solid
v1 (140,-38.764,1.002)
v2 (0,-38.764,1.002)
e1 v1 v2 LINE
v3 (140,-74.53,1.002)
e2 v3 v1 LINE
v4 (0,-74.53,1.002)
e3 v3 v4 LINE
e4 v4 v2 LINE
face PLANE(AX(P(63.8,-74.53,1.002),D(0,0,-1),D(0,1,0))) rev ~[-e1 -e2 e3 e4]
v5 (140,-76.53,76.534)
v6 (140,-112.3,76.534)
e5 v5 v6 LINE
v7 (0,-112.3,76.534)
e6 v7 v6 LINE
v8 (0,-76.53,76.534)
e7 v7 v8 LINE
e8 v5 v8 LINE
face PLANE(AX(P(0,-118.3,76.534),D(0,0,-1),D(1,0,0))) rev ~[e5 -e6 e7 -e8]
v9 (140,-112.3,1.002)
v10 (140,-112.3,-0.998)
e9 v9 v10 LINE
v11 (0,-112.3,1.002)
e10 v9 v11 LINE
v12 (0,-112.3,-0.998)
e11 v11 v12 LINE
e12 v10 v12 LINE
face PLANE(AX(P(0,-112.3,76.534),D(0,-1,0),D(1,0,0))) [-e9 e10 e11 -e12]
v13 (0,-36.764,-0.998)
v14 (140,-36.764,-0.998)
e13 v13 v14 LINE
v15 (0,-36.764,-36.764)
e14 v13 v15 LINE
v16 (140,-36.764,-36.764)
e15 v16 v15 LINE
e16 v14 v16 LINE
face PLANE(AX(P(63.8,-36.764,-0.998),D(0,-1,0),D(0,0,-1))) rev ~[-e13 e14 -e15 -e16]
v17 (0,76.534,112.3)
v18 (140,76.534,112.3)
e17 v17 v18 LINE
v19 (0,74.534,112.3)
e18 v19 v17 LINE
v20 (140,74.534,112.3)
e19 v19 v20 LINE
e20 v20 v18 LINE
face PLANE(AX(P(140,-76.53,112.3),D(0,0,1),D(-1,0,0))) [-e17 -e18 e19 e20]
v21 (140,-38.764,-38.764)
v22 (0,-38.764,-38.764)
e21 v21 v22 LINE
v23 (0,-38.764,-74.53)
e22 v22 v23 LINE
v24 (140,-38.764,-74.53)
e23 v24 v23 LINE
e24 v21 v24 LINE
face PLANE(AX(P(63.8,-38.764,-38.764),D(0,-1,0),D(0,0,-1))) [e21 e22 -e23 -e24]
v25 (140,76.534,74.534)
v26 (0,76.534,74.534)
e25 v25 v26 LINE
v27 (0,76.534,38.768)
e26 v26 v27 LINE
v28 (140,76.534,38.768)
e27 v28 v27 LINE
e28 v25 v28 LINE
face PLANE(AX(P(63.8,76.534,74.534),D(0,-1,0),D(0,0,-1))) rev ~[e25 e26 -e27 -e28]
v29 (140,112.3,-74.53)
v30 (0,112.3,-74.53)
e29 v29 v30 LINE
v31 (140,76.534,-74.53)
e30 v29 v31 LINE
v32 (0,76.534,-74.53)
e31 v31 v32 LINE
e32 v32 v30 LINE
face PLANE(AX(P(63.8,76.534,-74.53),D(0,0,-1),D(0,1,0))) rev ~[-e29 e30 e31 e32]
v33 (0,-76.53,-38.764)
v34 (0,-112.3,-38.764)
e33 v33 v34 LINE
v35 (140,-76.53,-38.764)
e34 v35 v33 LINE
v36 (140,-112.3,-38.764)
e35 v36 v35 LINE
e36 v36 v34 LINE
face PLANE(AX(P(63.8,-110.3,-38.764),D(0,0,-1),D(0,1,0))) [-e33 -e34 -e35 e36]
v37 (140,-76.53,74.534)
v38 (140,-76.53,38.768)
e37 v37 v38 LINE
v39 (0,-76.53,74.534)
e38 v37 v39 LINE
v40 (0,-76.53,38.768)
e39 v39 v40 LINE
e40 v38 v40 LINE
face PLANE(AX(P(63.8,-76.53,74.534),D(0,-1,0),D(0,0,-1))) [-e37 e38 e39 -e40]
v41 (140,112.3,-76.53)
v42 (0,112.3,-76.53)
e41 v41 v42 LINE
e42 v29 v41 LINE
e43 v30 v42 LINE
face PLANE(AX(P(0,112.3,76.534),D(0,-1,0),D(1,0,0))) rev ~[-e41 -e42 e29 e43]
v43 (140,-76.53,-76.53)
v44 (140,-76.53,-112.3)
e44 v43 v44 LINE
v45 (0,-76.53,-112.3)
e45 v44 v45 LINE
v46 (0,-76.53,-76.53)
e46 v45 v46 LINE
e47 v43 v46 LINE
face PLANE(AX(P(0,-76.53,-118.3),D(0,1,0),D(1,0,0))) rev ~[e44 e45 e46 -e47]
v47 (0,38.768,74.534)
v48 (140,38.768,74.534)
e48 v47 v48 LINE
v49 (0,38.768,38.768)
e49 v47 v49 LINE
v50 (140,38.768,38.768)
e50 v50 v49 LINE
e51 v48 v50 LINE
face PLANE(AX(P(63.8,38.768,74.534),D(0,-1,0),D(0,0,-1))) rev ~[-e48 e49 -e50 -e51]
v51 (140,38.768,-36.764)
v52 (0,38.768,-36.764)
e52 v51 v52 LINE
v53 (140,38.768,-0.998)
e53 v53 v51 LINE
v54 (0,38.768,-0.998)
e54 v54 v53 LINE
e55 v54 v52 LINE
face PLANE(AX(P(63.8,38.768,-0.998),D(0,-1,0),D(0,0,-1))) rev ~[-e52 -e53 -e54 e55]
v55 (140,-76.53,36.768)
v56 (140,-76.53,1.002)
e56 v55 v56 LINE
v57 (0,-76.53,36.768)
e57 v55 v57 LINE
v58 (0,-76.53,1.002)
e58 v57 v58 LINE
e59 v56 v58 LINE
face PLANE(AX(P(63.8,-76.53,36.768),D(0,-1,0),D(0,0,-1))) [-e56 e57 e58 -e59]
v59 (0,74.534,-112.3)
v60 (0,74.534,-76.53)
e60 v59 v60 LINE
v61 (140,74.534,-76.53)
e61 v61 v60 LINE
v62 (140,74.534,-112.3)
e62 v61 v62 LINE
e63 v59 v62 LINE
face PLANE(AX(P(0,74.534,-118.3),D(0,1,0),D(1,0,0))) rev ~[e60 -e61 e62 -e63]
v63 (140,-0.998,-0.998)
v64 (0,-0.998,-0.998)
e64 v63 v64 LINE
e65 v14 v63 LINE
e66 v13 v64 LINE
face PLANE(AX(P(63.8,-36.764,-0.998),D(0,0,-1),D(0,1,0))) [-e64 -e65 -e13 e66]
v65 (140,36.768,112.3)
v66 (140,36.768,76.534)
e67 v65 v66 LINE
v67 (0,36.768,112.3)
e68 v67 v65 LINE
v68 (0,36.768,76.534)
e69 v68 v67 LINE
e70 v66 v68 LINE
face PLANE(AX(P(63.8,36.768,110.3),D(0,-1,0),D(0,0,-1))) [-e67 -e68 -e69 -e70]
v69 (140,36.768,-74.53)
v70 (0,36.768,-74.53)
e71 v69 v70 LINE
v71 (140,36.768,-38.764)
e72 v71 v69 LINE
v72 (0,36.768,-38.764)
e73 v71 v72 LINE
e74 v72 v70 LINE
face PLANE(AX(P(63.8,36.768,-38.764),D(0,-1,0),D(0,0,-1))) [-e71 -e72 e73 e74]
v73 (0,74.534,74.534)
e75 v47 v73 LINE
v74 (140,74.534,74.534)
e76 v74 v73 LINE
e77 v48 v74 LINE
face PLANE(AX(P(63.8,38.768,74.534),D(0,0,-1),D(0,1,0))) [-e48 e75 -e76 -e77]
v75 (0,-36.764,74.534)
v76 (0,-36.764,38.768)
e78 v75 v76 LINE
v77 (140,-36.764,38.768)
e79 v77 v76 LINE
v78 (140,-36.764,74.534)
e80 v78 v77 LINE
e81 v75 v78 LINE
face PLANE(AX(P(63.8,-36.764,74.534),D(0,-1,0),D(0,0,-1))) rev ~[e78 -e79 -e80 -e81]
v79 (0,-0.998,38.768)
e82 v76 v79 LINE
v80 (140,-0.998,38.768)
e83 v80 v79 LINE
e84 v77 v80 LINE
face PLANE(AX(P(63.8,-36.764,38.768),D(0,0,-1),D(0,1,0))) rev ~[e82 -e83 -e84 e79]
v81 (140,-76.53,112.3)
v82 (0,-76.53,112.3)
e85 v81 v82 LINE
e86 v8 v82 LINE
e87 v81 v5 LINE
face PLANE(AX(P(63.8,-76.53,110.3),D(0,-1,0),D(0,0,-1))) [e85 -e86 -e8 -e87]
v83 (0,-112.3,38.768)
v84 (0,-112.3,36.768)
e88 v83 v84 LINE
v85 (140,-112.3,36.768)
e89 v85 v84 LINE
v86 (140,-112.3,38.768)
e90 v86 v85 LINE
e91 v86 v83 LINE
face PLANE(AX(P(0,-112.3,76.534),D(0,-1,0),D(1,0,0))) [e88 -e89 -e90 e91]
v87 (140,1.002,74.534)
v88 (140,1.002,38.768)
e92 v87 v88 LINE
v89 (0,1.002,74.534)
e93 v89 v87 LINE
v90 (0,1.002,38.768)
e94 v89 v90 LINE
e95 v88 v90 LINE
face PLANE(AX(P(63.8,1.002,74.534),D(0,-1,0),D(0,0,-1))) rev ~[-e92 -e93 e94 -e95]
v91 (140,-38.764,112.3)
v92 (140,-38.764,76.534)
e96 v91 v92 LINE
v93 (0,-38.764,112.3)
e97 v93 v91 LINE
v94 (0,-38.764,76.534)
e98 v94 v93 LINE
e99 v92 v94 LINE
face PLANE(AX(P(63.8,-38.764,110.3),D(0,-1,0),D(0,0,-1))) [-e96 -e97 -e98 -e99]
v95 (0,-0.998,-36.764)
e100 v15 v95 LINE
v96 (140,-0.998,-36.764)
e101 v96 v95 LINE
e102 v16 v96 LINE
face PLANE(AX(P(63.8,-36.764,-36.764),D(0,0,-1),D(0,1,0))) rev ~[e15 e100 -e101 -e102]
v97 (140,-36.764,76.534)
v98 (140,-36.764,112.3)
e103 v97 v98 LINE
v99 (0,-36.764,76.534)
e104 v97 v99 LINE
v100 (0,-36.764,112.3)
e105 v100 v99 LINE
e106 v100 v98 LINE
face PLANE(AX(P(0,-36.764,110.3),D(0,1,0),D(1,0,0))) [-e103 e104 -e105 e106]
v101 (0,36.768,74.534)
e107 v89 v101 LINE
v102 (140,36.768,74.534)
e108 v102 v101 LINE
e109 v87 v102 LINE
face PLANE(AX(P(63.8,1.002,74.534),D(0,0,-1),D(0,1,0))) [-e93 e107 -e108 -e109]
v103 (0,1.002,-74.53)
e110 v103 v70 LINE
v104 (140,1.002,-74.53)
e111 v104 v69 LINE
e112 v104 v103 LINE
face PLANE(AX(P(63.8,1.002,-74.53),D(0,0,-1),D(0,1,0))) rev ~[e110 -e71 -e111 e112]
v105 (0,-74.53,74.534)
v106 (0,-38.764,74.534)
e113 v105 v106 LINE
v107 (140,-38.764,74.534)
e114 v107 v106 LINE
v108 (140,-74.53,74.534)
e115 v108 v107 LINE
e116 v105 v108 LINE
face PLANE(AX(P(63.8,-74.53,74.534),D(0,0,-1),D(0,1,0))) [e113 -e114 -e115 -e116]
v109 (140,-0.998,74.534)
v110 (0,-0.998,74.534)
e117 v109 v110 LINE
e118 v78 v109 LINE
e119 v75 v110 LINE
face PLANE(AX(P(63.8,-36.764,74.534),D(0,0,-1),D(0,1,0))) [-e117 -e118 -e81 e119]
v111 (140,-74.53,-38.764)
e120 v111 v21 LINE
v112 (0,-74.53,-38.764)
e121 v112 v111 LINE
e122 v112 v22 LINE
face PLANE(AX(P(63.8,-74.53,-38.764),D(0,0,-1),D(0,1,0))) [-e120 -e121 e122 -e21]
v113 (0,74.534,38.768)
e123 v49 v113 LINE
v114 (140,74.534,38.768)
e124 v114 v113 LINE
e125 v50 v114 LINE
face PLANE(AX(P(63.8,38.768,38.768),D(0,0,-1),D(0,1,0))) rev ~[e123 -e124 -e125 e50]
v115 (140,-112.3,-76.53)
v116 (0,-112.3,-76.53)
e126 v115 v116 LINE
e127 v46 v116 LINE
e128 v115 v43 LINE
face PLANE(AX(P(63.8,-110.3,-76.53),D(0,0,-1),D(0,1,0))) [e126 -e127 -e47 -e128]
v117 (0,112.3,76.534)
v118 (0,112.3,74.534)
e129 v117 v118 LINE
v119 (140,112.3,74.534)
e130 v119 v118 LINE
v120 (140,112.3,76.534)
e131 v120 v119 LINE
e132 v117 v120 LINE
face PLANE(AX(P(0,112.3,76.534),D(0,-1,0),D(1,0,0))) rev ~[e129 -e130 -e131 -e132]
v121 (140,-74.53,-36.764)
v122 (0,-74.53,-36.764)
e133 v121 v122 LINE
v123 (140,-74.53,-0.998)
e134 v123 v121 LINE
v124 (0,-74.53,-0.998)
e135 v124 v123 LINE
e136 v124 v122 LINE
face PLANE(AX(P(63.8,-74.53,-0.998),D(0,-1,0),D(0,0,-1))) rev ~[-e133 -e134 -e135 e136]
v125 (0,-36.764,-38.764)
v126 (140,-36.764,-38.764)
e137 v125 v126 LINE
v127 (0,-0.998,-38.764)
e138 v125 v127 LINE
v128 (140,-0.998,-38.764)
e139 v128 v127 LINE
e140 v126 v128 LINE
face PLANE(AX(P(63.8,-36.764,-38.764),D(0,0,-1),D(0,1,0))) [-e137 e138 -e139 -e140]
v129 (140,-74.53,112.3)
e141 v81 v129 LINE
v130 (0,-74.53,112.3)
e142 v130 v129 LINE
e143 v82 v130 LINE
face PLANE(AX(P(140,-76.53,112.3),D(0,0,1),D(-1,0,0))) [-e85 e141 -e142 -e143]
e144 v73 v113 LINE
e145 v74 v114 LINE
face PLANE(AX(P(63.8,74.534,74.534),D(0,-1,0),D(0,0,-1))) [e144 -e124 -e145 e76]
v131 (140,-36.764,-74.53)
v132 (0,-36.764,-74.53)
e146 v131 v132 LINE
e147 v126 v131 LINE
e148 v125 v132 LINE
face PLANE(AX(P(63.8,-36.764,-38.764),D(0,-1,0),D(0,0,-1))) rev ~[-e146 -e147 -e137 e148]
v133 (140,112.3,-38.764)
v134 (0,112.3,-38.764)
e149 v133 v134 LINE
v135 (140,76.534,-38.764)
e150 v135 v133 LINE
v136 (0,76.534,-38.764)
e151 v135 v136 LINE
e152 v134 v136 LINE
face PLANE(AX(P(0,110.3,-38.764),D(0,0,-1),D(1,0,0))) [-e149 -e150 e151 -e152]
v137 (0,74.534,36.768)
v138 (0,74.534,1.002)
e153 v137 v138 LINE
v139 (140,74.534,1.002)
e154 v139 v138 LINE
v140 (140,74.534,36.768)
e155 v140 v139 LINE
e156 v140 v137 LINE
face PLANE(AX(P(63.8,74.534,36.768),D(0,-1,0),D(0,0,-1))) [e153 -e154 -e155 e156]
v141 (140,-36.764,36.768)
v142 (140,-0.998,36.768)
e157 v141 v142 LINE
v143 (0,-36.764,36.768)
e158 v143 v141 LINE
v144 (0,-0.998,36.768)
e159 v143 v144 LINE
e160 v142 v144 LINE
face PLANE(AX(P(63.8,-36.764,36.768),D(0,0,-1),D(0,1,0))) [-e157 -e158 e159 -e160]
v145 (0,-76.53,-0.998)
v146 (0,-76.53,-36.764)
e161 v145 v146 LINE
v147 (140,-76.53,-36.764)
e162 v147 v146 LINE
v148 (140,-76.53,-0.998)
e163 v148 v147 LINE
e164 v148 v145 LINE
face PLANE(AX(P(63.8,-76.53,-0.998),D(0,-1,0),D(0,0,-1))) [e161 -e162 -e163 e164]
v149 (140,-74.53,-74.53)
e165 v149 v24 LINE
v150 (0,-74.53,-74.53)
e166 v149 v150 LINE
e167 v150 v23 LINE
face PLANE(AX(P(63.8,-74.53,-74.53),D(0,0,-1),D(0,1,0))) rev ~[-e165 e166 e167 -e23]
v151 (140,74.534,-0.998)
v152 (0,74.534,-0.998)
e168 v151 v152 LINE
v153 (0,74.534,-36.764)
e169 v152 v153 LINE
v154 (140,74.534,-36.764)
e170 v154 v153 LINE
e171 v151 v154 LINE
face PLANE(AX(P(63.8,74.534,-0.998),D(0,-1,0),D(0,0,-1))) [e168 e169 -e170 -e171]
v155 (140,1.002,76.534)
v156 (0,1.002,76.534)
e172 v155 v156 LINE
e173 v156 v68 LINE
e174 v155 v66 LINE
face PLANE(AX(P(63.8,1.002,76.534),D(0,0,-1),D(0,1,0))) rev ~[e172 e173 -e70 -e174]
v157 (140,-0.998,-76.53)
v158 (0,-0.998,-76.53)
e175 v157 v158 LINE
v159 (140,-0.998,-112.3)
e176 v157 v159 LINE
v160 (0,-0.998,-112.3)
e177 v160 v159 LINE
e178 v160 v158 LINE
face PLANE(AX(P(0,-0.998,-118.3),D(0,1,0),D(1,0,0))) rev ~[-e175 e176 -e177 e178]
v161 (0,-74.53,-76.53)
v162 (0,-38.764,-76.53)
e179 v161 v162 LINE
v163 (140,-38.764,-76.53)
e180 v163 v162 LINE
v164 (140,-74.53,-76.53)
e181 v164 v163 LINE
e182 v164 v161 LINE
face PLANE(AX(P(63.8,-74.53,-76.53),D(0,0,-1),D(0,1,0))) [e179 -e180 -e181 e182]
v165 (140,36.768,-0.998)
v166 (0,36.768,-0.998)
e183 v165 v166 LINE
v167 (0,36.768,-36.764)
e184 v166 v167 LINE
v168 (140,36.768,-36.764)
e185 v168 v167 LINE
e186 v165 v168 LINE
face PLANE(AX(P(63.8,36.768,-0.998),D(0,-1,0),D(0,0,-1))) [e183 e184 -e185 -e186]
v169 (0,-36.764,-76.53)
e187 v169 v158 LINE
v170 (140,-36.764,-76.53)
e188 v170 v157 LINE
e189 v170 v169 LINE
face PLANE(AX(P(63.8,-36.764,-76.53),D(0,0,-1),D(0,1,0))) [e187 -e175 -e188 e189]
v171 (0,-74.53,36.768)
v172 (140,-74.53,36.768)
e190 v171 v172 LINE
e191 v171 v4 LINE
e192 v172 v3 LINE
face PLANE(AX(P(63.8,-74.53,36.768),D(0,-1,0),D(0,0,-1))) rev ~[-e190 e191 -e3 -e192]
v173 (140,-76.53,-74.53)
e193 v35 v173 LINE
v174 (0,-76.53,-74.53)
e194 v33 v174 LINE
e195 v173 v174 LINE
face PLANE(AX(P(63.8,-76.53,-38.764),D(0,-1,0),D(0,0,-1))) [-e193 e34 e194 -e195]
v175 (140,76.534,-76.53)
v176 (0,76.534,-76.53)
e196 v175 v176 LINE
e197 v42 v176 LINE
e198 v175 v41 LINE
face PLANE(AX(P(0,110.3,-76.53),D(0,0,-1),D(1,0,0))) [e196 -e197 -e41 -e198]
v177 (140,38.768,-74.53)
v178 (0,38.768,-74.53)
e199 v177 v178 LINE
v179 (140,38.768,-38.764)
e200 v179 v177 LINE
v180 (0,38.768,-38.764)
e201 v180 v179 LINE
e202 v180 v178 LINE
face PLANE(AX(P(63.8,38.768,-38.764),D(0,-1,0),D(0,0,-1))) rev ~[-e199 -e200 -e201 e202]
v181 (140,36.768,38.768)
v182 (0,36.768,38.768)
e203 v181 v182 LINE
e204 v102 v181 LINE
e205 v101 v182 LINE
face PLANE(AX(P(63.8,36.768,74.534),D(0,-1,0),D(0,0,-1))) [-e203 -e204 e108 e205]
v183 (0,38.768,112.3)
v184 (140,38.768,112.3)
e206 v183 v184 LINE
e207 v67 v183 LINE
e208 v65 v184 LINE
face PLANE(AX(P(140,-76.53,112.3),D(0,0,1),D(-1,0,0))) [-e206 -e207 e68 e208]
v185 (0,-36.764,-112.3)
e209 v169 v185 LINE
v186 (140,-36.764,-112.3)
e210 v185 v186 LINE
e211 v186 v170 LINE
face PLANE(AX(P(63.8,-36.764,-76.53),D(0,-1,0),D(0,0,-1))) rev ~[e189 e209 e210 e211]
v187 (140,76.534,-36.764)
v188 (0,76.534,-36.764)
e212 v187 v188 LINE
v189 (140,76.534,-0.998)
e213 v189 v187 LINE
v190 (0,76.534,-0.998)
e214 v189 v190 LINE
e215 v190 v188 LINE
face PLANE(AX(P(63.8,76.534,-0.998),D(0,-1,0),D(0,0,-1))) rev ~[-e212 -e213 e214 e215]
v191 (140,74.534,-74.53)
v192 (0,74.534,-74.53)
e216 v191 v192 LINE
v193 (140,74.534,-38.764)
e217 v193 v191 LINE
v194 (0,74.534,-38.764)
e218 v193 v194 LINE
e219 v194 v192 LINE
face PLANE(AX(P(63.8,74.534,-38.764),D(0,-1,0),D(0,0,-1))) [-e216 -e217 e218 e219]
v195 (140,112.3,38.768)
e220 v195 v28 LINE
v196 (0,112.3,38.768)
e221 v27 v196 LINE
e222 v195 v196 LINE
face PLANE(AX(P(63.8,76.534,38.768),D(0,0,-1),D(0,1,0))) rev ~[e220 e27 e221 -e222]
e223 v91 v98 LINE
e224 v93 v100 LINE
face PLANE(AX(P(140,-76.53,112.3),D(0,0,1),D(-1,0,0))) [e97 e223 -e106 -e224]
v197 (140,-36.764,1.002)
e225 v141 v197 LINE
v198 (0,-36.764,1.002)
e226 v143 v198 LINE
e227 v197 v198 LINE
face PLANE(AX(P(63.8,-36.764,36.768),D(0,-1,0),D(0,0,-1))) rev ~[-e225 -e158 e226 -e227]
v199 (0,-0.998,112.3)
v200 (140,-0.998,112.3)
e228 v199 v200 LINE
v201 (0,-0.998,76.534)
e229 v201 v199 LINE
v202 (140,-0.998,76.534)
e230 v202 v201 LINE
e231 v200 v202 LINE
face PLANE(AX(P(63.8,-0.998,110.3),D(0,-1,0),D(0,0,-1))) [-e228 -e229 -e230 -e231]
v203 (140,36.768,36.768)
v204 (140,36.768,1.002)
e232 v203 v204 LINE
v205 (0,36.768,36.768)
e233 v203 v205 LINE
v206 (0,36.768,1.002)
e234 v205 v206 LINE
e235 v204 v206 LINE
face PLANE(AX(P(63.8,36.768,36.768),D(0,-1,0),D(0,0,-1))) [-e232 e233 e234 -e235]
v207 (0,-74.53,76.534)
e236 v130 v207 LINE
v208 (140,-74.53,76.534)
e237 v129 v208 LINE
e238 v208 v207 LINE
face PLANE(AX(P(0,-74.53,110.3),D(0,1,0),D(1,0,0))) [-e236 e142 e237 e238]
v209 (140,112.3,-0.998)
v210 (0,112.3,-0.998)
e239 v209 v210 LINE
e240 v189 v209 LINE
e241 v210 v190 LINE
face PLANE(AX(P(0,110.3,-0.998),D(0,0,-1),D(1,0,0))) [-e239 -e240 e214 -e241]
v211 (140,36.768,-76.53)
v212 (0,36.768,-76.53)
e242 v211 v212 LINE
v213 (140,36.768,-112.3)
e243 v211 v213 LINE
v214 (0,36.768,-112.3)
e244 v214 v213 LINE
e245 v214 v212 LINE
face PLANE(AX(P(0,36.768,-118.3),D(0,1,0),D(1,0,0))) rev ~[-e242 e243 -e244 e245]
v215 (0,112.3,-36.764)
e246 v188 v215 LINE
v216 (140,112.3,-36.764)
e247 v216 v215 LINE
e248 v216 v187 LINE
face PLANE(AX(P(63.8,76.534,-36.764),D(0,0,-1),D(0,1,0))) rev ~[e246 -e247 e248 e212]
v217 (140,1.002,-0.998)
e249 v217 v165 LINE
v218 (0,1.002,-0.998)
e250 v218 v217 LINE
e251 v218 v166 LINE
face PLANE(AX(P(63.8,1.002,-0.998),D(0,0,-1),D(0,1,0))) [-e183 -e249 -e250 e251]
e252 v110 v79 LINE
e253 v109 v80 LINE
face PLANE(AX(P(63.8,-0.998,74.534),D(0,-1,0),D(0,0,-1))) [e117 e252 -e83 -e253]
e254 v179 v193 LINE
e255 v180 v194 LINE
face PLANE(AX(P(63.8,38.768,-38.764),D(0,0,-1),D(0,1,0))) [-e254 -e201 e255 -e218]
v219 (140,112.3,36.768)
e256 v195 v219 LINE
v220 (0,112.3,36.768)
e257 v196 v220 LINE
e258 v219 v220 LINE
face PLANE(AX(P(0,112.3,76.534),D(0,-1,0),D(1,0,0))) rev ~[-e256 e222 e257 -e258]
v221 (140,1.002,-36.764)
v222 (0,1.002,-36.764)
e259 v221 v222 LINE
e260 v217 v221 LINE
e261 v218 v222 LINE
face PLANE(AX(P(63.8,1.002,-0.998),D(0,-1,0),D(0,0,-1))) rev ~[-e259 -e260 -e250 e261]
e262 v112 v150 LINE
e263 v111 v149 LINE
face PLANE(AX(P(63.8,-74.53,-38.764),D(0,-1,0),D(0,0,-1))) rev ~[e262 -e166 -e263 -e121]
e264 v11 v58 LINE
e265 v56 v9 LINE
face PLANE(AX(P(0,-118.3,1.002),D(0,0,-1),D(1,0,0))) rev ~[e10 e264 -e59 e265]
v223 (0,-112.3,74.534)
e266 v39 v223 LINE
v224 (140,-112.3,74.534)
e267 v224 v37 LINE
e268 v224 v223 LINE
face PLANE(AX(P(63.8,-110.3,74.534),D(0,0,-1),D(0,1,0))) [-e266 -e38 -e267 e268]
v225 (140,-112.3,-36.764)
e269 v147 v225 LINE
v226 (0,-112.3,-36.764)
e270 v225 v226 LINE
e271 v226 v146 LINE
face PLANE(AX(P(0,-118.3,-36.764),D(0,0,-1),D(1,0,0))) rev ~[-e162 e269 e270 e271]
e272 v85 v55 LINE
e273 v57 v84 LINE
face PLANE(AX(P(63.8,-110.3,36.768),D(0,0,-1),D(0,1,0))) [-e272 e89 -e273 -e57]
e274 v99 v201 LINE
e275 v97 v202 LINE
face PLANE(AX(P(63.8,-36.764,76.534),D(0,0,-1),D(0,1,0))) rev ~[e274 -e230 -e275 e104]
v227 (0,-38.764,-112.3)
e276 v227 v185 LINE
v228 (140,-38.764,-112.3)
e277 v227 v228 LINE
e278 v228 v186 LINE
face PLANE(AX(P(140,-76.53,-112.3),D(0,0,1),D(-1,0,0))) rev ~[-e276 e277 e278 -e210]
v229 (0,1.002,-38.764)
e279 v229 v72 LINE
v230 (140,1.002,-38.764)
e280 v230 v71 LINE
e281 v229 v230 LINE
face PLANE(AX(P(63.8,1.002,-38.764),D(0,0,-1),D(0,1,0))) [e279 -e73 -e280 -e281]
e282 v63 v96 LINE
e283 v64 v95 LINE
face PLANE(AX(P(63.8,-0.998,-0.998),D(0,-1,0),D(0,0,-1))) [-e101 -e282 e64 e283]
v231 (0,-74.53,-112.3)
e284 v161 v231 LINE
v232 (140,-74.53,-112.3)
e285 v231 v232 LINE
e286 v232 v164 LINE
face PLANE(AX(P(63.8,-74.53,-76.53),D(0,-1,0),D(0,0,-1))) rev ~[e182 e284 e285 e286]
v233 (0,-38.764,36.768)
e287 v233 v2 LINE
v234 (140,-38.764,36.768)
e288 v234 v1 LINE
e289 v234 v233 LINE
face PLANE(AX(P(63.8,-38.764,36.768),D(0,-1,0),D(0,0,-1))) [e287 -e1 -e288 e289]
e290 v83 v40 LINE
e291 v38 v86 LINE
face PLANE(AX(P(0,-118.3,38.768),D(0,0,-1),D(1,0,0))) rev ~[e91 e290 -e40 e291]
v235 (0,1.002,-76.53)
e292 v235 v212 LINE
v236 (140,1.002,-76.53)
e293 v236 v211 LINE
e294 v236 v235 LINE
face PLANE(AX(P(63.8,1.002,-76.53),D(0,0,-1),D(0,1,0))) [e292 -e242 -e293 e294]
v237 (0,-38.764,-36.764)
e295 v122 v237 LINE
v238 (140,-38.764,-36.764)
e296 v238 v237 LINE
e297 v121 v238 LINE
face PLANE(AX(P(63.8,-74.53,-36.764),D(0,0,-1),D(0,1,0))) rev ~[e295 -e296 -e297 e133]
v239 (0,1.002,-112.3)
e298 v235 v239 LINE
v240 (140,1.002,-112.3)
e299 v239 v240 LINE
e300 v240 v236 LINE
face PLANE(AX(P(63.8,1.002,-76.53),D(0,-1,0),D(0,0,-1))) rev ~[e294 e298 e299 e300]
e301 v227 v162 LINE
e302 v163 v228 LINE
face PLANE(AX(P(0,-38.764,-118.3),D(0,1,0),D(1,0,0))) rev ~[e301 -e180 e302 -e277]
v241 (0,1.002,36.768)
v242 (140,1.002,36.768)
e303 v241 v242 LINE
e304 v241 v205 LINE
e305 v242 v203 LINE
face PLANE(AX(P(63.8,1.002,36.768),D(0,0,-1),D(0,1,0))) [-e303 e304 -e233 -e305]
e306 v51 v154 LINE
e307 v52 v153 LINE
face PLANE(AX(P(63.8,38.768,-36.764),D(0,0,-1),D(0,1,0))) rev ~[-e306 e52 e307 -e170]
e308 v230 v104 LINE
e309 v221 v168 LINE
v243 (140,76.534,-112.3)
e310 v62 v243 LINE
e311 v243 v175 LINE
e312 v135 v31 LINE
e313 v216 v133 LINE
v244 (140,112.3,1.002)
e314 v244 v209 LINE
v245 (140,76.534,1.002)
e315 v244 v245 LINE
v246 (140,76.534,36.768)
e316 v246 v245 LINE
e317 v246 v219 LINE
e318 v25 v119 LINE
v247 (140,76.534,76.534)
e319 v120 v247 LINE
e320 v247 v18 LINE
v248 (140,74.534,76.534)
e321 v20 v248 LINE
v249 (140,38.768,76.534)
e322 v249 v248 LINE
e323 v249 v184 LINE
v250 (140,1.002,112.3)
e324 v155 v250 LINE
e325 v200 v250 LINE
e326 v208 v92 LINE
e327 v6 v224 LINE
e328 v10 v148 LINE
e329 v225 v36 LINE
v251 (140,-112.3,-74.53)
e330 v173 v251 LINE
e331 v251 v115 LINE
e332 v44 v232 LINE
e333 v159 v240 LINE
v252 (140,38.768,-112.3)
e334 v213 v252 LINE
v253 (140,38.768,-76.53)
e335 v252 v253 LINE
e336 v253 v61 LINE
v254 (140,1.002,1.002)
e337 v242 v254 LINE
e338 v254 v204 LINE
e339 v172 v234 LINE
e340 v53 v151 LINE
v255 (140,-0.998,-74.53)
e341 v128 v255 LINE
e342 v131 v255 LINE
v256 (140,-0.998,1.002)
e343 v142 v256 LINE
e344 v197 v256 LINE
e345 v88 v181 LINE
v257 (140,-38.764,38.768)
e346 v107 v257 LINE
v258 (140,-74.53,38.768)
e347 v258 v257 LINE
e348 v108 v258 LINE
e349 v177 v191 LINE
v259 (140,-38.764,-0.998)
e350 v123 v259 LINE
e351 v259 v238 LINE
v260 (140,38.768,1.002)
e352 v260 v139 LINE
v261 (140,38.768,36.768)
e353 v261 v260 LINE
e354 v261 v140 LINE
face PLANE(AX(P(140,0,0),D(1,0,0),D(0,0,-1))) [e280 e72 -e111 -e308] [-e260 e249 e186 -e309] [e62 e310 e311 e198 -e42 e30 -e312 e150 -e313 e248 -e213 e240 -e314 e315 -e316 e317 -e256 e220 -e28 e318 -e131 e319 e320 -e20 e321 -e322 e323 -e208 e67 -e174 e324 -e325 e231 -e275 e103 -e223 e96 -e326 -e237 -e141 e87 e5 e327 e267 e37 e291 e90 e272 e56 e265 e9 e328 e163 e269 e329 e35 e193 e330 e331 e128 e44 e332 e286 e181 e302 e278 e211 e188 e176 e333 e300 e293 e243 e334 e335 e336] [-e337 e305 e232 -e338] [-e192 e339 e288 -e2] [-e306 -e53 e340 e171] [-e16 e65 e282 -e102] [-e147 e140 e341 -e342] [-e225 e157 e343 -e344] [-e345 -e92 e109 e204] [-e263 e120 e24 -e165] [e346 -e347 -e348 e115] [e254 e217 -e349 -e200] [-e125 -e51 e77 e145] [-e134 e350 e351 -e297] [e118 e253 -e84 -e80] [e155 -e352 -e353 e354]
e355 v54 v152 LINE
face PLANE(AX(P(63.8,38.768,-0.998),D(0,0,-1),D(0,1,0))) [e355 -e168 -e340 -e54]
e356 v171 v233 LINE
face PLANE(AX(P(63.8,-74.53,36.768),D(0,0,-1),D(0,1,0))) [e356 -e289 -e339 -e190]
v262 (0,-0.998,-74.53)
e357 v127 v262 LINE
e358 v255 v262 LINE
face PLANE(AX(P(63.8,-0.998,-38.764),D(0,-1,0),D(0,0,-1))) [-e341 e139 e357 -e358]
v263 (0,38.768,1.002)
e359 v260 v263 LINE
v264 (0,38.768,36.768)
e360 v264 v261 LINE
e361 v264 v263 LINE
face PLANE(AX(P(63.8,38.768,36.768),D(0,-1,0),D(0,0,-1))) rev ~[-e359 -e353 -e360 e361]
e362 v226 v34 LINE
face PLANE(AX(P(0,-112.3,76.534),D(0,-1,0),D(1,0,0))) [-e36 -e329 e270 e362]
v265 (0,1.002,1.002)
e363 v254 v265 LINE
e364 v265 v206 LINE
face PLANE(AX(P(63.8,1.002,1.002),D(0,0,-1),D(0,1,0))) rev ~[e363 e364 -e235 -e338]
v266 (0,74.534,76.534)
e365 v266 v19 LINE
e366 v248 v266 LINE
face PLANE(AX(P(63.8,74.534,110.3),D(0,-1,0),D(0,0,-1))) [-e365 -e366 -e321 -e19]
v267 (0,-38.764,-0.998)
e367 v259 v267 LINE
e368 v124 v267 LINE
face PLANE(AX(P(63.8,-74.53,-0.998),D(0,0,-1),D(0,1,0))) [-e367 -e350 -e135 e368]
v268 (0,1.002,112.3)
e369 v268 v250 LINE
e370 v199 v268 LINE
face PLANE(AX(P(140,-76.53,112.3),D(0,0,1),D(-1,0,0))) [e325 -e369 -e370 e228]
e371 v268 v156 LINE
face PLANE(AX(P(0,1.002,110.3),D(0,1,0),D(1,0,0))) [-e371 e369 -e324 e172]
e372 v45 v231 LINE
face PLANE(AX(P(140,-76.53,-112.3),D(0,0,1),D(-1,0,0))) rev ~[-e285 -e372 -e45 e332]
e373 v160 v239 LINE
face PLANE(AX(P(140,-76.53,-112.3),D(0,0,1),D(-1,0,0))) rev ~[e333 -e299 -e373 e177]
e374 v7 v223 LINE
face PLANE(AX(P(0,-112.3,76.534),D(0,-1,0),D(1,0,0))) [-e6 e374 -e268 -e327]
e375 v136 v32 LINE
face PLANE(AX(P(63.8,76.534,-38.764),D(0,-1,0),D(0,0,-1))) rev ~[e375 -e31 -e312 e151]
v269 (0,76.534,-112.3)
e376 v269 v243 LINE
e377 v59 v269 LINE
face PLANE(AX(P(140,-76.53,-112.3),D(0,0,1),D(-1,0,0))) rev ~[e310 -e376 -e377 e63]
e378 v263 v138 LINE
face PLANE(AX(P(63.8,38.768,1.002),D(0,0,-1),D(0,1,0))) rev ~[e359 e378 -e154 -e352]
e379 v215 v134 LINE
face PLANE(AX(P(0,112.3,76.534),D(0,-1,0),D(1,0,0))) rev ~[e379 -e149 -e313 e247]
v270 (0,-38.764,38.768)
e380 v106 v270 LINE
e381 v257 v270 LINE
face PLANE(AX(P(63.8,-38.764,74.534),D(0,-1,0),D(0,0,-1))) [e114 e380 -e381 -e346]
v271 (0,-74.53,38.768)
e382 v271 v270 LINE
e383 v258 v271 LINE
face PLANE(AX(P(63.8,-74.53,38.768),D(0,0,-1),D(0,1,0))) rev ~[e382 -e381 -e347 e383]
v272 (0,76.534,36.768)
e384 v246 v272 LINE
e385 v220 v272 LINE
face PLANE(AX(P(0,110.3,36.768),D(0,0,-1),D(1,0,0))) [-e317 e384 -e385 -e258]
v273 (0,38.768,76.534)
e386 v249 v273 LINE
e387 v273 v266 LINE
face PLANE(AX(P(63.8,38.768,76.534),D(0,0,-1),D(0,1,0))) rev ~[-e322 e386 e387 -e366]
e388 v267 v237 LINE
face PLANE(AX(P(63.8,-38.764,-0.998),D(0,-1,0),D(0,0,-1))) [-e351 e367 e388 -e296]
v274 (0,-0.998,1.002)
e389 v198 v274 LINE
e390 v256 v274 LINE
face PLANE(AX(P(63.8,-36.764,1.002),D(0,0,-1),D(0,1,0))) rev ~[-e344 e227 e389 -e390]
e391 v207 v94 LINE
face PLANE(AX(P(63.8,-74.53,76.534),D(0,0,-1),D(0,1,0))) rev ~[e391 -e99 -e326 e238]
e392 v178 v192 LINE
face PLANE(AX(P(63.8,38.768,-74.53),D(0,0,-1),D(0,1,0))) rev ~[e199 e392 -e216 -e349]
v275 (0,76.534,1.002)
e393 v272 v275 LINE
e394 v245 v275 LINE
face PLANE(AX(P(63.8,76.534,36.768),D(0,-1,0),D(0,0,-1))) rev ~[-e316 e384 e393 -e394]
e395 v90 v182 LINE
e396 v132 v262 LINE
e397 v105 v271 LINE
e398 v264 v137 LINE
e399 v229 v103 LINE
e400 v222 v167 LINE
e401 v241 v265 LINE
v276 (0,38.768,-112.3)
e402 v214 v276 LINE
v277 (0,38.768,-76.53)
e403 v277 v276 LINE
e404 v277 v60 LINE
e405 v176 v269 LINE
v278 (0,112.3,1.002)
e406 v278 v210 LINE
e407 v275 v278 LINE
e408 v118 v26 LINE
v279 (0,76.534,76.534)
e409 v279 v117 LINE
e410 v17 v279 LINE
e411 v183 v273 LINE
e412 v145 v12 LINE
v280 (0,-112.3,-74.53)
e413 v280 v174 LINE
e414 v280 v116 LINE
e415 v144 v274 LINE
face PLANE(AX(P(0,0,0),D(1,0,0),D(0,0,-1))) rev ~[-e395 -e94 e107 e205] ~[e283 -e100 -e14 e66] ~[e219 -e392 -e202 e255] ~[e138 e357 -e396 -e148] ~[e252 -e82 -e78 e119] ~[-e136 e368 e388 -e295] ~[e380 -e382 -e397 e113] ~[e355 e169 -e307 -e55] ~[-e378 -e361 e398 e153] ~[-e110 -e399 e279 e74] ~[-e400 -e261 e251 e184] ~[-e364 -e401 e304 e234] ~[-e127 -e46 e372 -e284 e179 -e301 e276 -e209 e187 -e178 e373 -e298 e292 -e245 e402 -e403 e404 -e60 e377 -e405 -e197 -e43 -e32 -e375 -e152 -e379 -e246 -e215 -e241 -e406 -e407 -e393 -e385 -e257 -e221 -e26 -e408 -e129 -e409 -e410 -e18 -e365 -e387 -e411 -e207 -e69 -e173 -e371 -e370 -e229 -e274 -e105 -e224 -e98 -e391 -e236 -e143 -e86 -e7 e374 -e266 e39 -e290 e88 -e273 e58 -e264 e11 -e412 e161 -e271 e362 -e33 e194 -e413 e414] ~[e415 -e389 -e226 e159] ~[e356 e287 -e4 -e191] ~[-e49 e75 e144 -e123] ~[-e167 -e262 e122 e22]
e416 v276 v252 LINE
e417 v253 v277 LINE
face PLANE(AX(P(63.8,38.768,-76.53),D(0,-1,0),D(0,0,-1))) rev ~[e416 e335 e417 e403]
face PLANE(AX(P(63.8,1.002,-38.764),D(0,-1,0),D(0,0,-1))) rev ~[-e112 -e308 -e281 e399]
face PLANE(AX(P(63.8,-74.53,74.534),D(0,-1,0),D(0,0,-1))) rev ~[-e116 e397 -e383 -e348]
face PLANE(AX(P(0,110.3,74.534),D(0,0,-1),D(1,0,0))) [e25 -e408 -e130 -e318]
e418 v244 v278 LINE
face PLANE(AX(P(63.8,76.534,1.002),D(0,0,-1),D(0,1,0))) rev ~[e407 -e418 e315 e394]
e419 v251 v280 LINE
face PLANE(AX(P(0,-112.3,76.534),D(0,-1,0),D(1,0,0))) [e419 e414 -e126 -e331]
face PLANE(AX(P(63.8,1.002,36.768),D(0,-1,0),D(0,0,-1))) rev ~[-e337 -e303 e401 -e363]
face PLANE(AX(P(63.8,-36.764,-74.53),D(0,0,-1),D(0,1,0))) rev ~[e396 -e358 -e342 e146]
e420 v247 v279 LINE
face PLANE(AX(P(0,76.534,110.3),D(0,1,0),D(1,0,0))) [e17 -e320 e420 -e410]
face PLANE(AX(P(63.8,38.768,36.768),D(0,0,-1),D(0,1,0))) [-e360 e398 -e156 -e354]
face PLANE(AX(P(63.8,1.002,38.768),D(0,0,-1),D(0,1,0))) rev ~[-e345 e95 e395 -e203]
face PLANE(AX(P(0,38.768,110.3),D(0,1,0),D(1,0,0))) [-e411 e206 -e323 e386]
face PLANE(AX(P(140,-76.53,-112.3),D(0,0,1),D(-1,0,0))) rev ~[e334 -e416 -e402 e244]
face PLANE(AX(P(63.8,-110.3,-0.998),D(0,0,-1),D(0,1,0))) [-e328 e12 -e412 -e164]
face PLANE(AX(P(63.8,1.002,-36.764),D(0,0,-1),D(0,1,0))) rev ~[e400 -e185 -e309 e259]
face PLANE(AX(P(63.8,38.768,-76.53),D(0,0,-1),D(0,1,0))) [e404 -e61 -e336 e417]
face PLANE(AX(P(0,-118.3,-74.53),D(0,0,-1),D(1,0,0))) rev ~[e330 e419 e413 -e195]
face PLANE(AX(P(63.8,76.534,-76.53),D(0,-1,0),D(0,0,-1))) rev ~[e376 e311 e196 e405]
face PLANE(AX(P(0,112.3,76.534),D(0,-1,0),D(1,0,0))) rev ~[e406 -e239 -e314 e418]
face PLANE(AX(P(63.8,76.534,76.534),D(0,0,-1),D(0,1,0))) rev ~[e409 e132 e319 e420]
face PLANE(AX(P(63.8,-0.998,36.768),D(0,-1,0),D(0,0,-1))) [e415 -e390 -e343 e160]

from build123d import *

# Parameters (mm, degrees)
SKETCH1_W               = 228.6
SKETCH1_H               = 228.6
BOSS_EXTRUDE1_DEPTH     = 140
SKETCH2_W               = 35.766
SKETCH2_H               = 35.766
CUT_EXTRUDE1_DEPTH      = 76.2
CUT_EXTRUDE3_DEPTH      = 4
CUT_EXTRUDE3_DEPTH_BACK = 4
SKETCH4_W               = 140
SKETCH4_H               = 35.766
CUT_EXTRUDE4_DEPTH      = 4
CUT_EXTRUDE4_DEPTH_BACK = 4
SKETCH5_W               = 140
SKETCH5_H               = 37.77
SKETCH5_H_2             = 35.766
CUT_EXTRUDE5_DEPTH      = 4
CUT_EXTRUDE5_DEPTH_BACK = 4
SKETCH6_W               = 140
SKETCH6_H               = 35.766
SKETCH6_H_2             = 37.77
CUT_EXTRUDE6_DEPTH      = 4
CUT_EXTRUDE6_DEPTH_BACK = 4
SKETCH9_W               = 140
SKETCH9_H               = 37.766
SKETCH9_H_2             = 35.766
SKETCH9_H_3             = 37.77
SKETCH10_W              = 140
SKETCH10_H              = 2
CUT_EXTRUDE7_DEPTH      = 263.834749521
SKETCH11_W              = 140
SKETCH11_H              = 2
CUT_EXTRUDE8_DEPTH      = 262.383356203
SKETCH12_W              = 33.77
SKETCH12_H              = 33.766
SKETCH12_W_2            = 35.766
SKETCH12_W_3            = 33.766
SKETCH12_H_2            = 35.766
SKETCH12_H_3            = 33.77
CUT_EXTRUDE9_DEPTH      = 177.150560601
SKETCH13_W              = 33.77
SKETCH13_H              = 35.766
SKETCH13_W_2            = 35.766
CUT_EXTRUDE10_DEPTH     = 177.150560601
SKETCH14_W              = 35.766
SKETCH14_H              = 35.766
CUT_EXTRUDE11_DEPTH     = 177.150560601


with BuildPart() as part:
    # Sketch1 → Boss-Extrude1 (new body)
    with BuildSketch(Plane(origin=(0, 0, 0), x_dir=(0, 0, -1), z_dir=(1, 0, 0))):
        Rectangle(SKETCH1_W, SKETCH1_H)
    extrude(amount=BOSS_EXTRUDE1_DEPTH)

    # Sketch2 → Cut-Extrude1 (cut)
    with BuildSketch(Plane(origin=(140, 0, 0), x_dir=(0, 0, -1), z_dir=(1, 0, 0))):
        with Locations((-94.417, 94.417)):
            Rectangle(SKETCH2_W, SKETCH2_H)
        with Locations((-56.651, 94.417)):
            Rectangle(SKETCH2_W, SKETCH2_H)
        with Locations((18.881, 94.417)):
            Rectangle(SKETCH2_W, SKETCH2_H)
        with Locations((-18.885, 94.417)):
            Rectangle(SKETCH2_W, SKETCH2_H)
        with Locations((56.647, 94.417)):
            Rectangle(SKETCH2_W, SKETCH2_H)
        with Locations((94.413, 94.417)):
            Rectangle(SKETCH2_W, SKETCH2_H)
        with Locations((56.647, 56.651)):
            Rectangle(SKETCH2_W, SKETCH2_H)
        with Locations((94.413, 56.651)):
            Rectangle(SKETCH2_W, SKETCH2_H)
        with Locations((18.881, 56.651)):
            Rectangle(SKETCH2_W, SKETCH2_H)
        with Locations((-18.885, 56.651)):
            Rectangle(SKETCH2_W, SKETCH2_H)
        with Locations((-56.651, 56.651)):
            Rectangle(SKETCH2_W, SKETCH2_H)
        with Locations((-94.417, 56.651)):
            Rectangle(SKETCH2_W, SKETCH2_H)
        with Locations((-94.417, 18.885)):
            Rectangle(SKETCH2_W, SKETCH2_H)
        with Locations((-56.651, 18.885)):
            Rectangle(SKETCH2_W, SKETCH2_H)
        with Locations((-18.885, 18.885)):
            Rectangle(SKETCH2_W, SKETCH2_H)
        with Locations((18.881, 18.885)):
            Rectangle(SKETCH2_W, SKETCH2_H)
        with Locations((56.647, 18.885)):
            Rectangle(SKETCH2_W, SKETCH2_H)
        with Locations((94.413, 18.885)):
            Rectangle(SKETCH2_W, SKETCH2_H)
        with Locations((94.413, -18.881)):
            Rectangle(SKETCH2_W, SKETCH2_H)
        with Locations((56.647, -18.881)):
            Rectangle(SKETCH2_W, SKETCH2_H)
        with Locations((18.881, -18.881)):
            Rectangle(SKETCH2_W, SKETCH2_H)
        with Locations((-18.885, -18.881)):
            Rectangle(SKETCH2_W, SKETCH2_H)
        with Locations((-56.651, -18.881)):
            Rectangle(SKETCH2_W, SKETCH2_H)
        with Locations((-94.417, -18.881)):
            Rectangle(SKETCH2_W, SKETCH2_H)
        with Locations((56.647, -56.647)):
            Rectangle(SKETCH2_W, SKETCH2_H)
        with Locations((94.413, -56.647)):
            Rectangle(SKETCH2_W, SKETCH2_H)
        with Locations((94.413, -94.413)):
            Rectangle(SKETCH2_W, SKETCH2_H)
        with Locations((56.647, -94.413)):
            Rectangle(SKETCH2_W, SKETCH2_H)
        with Locations((18.881, -94.413)):
            Rectangle(SKETCH2_W, SKETCH2_H)
        with Locations((18.881, -56.647)):
            Rectangle(SKETCH2_W, SKETCH2_H)
        with Locations((-18.885, -56.647)):
            Rectangle(SKETCH2_W, SKETCH2_H)
        with Locations((-18.885, -94.413)):
            Rectangle(SKETCH2_W, SKETCH2_H)
        with Locations((-56.651, -94.413)):
            Rectangle(SKETCH2_W, SKETCH2_H)
        with Locations((-56.651, -56.647)):
            Rectangle(SKETCH2_W, SKETCH2_H)
        with Locations((-94.417, -94.413)):
            Rectangle(SKETCH2_W, SKETCH2_H)
        with Locations((-94.417, -56.647)):
            Rectangle(SKETCH2_W, SKETCH2_H)
    extrude(amount=-CUT_EXTRUDE1_DEPTH, mode=Mode.SUBTRACT)

    # Sketch4 → Cut-Extrude3 (cut, two sides: drawn at the far end of the back side and taken through both)
    with BuildSketch(Plane(origin=(0, -114.3, 0), x_dir=(1, 0, 0), z_dir=(0, 1, 0)).offset(-CUT_EXTRUDE3_DEPTH_BACK)):
        with Locations((70, -94.417)):
            Rectangle(SKETCH4_W, SKETCH4_H)
        with Locations((70, -56.651)):
            Rectangle(SKETCH4_W, SKETCH4_H)
        with Locations((70, -18.885)):
            Rectangle(SKETCH4_W, SKETCH4_H)
        with Locations((70, 18.881)):
            Rectangle(SKETCH4_W, SKETCH4_H)
        with Locations((70, 56.647)):
            Rectangle(SKETCH4_W, SKETCH4_H)
        with Locations((70, 94.413)):
            Rectangle(SKETCH4_W, SKETCH4_H)
    extrude(amount=CUT_EXTRUDE3_DEPTH + CUT_EXTRUDE3_DEPTH_BACK, mode=Mode.SUBTRACT)

    # Sketch5 → Cut-Extrude4 (cut, two sides: drawn at the far end of the back side and taken through both)
    with BuildSketch(Plane.XY.offset(114.3).offset(-CUT_EXTRUDE4_DEPTH_BACK)):
        with Locations((70, -95.415)):
            Rectangle(SKETCH5_W, SKETCH5_H)
        with Locations((70, -56.647)):
            Rectangle(SKETCH5_W, SKETCH5_H_2)
        with Locations((70, -18.881)):
            Rectangle(SKETCH5_W, SKETCH5_H_2)
        with Locations((70, 18.885)):
            Rectangle(SKETCH5_W, SKETCH5_H_2)
        with Locations((70, 56.651)):
            Rectangle(SKETCH5_W, SKETCH5_H_2)
        with Locations((70, 94.417)):
            Rectangle(SKETCH5_W, SKETCH5_H_2)
    extrude(amount=CUT_EXTRUDE4_DEPTH + CUT_EXTRUDE4_DEPTH_BACK, mode=Mode.SUBTRACT)

    # Sketch6 → Cut-Extrude5 (cut, two sides: drawn at the far end of the back side and taken through both)
    with BuildSketch(Plane.XY.offset(-114.3).offset(-CUT_EXTRUDE5_DEPTH_BACK)):
        with Locations((70, 94.417)):
            Rectangle(SKETCH6_W, SKETCH6_H)
        with Locations((70, 56.651)):
            Rectangle(SKETCH6_W, SKETCH6_H)
        with Locations((70, 18.885)):
            Rectangle(SKETCH6_W, SKETCH6_H)
        with Locations((70, -18.881)):
            Rectangle(SKETCH6_W, SKETCH6_H)
        with Locations((70, -56.647)):
            Rectangle(SKETCH6_W, SKETCH6_H)
        with Locations((70, -95.415)):
            Rectangle(SKETCH6_W, SKETCH6_H_2)
    extrude(amount=CUT_EXTRUDE5_DEPTH + CUT_EXTRUDE5_DEPTH_BACK, mode=Mode.SUBTRACT)

    # Sketch9 → Cut-Extrude6 (cut, two sides: drawn at the far end of the back side and taken through both)
    with BuildSketch(Plane(origin=(0, 114.3, 0), x_dir=(1, 0, 0), z_dir=(0, 1, 0)).offset(-CUT_EXTRUDE6_DEPTH_BACK)):
        with Locations((70, -95.417)):
            Rectangle(SKETCH9_W, SKETCH9_H)
        with Locations((70, -56.651)):
            Rectangle(SKETCH9_W, SKETCH9_H_2)
        with Locations((70, -18.885)):
            Rectangle(SKETCH9_W, SKETCH9_H_2)
        with Locations((70, 18.881)):
            Rectangle(SKETCH9_W, SKETCH9_H_2)
        with Locations((70, 56.647)):
            Rectangle(SKETCH9_W, SKETCH9_H_2)
        with Locations((70, 95.415)):
            Rectangle(SKETCH9_W, SKETCH9_H_3)
    extrude(amount=CUT_EXTRUDE6_DEPTH + CUT_EXTRUDE6_DEPTH_BACK, mode=Mode.SUBTRACT)

    # Sketch10 → Cut-Extrude7 (cut, through all)
    with BuildSketch(Plane.XY.offset(76.534)):
        with Locations((70, -113.3)):
            Rectangle(SKETCH10_W, SKETCH10_H)
        with Locations((70, 113.3)):
            Rectangle(SKETCH10_W, SKETCH10_H)
    extrude(amount=-CUT_EXTRUDE7_DEPTH, mode=Mode.SUBTRACT)

    # Sketch11 → Cut-Extrude8 (cut, through all)
    with BuildSketch(Plane(origin=(0, -76.53, 0), x_dir=(-1, 0, 0), z_dir=(0, -1, 0))):
        with Locations((-70, 113.3)):
            Rectangle(SKETCH11_W, SKETCH11_H)
        with Locations((-70, -113.3)):
            Rectangle(SKETCH11_W, SKETCH11_H)
    extrude(amount=-CUT_EXTRUDE8_DEPTH, mode=Mode.SUBTRACT)

    # Sketch12 → Cut-Extrude9 (cut, through all)
    with BuildSketch(Plane(origin=(63.8, 0, 0), x_dir=(0, 0, -1), z_dir=(1, 0, 0))):
        with Locations((93.415, 93.417)):
            Rectangle(SKETCH12_W, SKETCH12_H)
        with Locations((56.647, 93.417)):
            Rectangle(SKETCH12_W_2, SKETCH12_H)
        with Locations((-18.885, 93.417)):
            Rectangle(SKETCH12_W_2, SKETCH12_H)
        with Locations((18.881, 93.417)):
            Rectangle(SKETCH12_W_2, SKETCH12_H)
        with Locations((-56.651, 93.417)):
            Rectangle(SKETCH12_W_2, SKETCH12_H)
        with Locations((-93.417, 93.417)):
            Rectangle(SKETCH12_W_3, SKETCH12_H)
        with Locations((-93.417, 56.651)):
            Rectangle(SKETCH12_W_3, SKETCH12_H_2)
        with Locations((-93.417, 18.885)):
            Rectangle(SKETCH12_W_3, SKETCH12_H_2)
        with Locations((-93.417, -18.881)):
            Rectangle(SKETCH12_W_3, SKETCH12_H_2)
        with Locations((-93.417, -56.647)):
            Rectangle(SKETCH12_W_3, SKETCH12_H_2)
        with Locations((-93.417, -93.415)):
            Rectangle(SKETCH12_W_3, SKETCH12_H_3)
        with Locations((-56.651, -93.415)):
            Rectangle(SKETCH12_W_2, SKETCH12_H_3)
        with Locations((-18.885, -93.415)):
            Rectangle(SKETCH12_W_2, SKETCH12_H_3)
        with Locations((18.881, -93.415)):
            Rectangle(SKETCH12_W_2, SKETCH12_H_3)
        with Locations((56.647, -93.415)):
            Rectangle(SKETCH12_W_2, SKETCH12_H_3)
        with Locations((93.415, -93.415)):
            Rectangle(SKETCH12_W, SKETCH12_H_3)
        with Locations((93.415, -56.647)):
            Rectangle(SKETCH12_W, SKETCH12_H_2)
        with Locations((93.415, -18.881)):
            Rectangle(SKETCH12_W, SKETCH12_H_2)
    extrude(amount=-CUT_EXTRUDE9_DEPTH, mode=Mode.SUBTRACT)

    # Sketch13 → Cut-Extrude10 (cut, through all)
    with BuildSketch(Plane(origin=(63.8, 0, 0), x_dir=(0, 0, -1), z_dir=(1, 0, 0))):
        with Locations((93.415, 18.885)):
            Rectangle(SKETCH13_W, SKETCH13_H)
        with Locations((93.415, 56.651)):
            Rectangle(SKETCH13_W, SKETCH13_H)
        with Locations((56.647, 56.651)):
            Rectangle(SKETCH13_W_2, SKETCH13_H)
        with Locations((18.881, 56.651)):
            Rectangle(SKETCH13_W_2, SKETCH13_H)
        with Locations((18.881, 18.885)):
            Rectangle(SKETCH13_W_2, SKETCH13_H)
        with Locations((56.647, 18.885)):
            Rectangle(SKETCH13_W_2, SKETCH13_H)
        with Locations((-18.885, 18.885)):
            Rectangle(SKETCH13_W_2, SKETCH13_H)
        with Locations((-56.651, 18.885)):
            Rectangle(SKETCH13_W_2, SKETCH13_H)
        with Locations((-56.651, -18.881)):
            Rectangle(SKETCH13_W_2, SKETCH13_H)
        with Locations((-56.651, -56.647)):
            Rectangle(SKETCH13_W_2, SKETCH13_H)
        with Locations((18.881, -56.647)):
            Rectangle(SKETCH13_W_2, SKETCH13_H)
        with Locations((-18.885, -56.647)):
            Rectangle(SKETCH13_W_2, SKETCH13_H)
        with Locations((56.647, -56.647)):
            Rectangle(SKETCH13_W_2, SKETCH13_H)
        with Locations((56.647, -18.881)):
            Rectangle(SKETCH13_W_2, SKETCH13_H)
    extrude(amount=-CUT_EXTRUDE10_DEPTH, mode=Mode.SUBTRACT)

    # Sketch14 → Cut-Extrude11 (cut, through all)
    with BuildSketch(Plane(origin=(63.8, 0, 0), x_dir=(0, 0, -1), z_dir=(1, 0, 0))):
        with Locations((18.881, -18.881)):
            Rectangle(SKETCH14_W, SKETCH14_H)
        with Locations((-18.885, -18.881)):
            Rectangle(SKETCH14_W, SKETCH14_H)
        with Locations((-18.885, 56.651)):
            Rectangle(SKETCH14_W, SKETCH14_H)
        with Locations((-56.651, 56.651)):
            Rectangle(SKETCH14_W, SKETCH14_H)
    extrude(amount=-CUT_EXTRUDE11_DEPTH, mode=Mode.SUBTRACT)


solid = part.part
